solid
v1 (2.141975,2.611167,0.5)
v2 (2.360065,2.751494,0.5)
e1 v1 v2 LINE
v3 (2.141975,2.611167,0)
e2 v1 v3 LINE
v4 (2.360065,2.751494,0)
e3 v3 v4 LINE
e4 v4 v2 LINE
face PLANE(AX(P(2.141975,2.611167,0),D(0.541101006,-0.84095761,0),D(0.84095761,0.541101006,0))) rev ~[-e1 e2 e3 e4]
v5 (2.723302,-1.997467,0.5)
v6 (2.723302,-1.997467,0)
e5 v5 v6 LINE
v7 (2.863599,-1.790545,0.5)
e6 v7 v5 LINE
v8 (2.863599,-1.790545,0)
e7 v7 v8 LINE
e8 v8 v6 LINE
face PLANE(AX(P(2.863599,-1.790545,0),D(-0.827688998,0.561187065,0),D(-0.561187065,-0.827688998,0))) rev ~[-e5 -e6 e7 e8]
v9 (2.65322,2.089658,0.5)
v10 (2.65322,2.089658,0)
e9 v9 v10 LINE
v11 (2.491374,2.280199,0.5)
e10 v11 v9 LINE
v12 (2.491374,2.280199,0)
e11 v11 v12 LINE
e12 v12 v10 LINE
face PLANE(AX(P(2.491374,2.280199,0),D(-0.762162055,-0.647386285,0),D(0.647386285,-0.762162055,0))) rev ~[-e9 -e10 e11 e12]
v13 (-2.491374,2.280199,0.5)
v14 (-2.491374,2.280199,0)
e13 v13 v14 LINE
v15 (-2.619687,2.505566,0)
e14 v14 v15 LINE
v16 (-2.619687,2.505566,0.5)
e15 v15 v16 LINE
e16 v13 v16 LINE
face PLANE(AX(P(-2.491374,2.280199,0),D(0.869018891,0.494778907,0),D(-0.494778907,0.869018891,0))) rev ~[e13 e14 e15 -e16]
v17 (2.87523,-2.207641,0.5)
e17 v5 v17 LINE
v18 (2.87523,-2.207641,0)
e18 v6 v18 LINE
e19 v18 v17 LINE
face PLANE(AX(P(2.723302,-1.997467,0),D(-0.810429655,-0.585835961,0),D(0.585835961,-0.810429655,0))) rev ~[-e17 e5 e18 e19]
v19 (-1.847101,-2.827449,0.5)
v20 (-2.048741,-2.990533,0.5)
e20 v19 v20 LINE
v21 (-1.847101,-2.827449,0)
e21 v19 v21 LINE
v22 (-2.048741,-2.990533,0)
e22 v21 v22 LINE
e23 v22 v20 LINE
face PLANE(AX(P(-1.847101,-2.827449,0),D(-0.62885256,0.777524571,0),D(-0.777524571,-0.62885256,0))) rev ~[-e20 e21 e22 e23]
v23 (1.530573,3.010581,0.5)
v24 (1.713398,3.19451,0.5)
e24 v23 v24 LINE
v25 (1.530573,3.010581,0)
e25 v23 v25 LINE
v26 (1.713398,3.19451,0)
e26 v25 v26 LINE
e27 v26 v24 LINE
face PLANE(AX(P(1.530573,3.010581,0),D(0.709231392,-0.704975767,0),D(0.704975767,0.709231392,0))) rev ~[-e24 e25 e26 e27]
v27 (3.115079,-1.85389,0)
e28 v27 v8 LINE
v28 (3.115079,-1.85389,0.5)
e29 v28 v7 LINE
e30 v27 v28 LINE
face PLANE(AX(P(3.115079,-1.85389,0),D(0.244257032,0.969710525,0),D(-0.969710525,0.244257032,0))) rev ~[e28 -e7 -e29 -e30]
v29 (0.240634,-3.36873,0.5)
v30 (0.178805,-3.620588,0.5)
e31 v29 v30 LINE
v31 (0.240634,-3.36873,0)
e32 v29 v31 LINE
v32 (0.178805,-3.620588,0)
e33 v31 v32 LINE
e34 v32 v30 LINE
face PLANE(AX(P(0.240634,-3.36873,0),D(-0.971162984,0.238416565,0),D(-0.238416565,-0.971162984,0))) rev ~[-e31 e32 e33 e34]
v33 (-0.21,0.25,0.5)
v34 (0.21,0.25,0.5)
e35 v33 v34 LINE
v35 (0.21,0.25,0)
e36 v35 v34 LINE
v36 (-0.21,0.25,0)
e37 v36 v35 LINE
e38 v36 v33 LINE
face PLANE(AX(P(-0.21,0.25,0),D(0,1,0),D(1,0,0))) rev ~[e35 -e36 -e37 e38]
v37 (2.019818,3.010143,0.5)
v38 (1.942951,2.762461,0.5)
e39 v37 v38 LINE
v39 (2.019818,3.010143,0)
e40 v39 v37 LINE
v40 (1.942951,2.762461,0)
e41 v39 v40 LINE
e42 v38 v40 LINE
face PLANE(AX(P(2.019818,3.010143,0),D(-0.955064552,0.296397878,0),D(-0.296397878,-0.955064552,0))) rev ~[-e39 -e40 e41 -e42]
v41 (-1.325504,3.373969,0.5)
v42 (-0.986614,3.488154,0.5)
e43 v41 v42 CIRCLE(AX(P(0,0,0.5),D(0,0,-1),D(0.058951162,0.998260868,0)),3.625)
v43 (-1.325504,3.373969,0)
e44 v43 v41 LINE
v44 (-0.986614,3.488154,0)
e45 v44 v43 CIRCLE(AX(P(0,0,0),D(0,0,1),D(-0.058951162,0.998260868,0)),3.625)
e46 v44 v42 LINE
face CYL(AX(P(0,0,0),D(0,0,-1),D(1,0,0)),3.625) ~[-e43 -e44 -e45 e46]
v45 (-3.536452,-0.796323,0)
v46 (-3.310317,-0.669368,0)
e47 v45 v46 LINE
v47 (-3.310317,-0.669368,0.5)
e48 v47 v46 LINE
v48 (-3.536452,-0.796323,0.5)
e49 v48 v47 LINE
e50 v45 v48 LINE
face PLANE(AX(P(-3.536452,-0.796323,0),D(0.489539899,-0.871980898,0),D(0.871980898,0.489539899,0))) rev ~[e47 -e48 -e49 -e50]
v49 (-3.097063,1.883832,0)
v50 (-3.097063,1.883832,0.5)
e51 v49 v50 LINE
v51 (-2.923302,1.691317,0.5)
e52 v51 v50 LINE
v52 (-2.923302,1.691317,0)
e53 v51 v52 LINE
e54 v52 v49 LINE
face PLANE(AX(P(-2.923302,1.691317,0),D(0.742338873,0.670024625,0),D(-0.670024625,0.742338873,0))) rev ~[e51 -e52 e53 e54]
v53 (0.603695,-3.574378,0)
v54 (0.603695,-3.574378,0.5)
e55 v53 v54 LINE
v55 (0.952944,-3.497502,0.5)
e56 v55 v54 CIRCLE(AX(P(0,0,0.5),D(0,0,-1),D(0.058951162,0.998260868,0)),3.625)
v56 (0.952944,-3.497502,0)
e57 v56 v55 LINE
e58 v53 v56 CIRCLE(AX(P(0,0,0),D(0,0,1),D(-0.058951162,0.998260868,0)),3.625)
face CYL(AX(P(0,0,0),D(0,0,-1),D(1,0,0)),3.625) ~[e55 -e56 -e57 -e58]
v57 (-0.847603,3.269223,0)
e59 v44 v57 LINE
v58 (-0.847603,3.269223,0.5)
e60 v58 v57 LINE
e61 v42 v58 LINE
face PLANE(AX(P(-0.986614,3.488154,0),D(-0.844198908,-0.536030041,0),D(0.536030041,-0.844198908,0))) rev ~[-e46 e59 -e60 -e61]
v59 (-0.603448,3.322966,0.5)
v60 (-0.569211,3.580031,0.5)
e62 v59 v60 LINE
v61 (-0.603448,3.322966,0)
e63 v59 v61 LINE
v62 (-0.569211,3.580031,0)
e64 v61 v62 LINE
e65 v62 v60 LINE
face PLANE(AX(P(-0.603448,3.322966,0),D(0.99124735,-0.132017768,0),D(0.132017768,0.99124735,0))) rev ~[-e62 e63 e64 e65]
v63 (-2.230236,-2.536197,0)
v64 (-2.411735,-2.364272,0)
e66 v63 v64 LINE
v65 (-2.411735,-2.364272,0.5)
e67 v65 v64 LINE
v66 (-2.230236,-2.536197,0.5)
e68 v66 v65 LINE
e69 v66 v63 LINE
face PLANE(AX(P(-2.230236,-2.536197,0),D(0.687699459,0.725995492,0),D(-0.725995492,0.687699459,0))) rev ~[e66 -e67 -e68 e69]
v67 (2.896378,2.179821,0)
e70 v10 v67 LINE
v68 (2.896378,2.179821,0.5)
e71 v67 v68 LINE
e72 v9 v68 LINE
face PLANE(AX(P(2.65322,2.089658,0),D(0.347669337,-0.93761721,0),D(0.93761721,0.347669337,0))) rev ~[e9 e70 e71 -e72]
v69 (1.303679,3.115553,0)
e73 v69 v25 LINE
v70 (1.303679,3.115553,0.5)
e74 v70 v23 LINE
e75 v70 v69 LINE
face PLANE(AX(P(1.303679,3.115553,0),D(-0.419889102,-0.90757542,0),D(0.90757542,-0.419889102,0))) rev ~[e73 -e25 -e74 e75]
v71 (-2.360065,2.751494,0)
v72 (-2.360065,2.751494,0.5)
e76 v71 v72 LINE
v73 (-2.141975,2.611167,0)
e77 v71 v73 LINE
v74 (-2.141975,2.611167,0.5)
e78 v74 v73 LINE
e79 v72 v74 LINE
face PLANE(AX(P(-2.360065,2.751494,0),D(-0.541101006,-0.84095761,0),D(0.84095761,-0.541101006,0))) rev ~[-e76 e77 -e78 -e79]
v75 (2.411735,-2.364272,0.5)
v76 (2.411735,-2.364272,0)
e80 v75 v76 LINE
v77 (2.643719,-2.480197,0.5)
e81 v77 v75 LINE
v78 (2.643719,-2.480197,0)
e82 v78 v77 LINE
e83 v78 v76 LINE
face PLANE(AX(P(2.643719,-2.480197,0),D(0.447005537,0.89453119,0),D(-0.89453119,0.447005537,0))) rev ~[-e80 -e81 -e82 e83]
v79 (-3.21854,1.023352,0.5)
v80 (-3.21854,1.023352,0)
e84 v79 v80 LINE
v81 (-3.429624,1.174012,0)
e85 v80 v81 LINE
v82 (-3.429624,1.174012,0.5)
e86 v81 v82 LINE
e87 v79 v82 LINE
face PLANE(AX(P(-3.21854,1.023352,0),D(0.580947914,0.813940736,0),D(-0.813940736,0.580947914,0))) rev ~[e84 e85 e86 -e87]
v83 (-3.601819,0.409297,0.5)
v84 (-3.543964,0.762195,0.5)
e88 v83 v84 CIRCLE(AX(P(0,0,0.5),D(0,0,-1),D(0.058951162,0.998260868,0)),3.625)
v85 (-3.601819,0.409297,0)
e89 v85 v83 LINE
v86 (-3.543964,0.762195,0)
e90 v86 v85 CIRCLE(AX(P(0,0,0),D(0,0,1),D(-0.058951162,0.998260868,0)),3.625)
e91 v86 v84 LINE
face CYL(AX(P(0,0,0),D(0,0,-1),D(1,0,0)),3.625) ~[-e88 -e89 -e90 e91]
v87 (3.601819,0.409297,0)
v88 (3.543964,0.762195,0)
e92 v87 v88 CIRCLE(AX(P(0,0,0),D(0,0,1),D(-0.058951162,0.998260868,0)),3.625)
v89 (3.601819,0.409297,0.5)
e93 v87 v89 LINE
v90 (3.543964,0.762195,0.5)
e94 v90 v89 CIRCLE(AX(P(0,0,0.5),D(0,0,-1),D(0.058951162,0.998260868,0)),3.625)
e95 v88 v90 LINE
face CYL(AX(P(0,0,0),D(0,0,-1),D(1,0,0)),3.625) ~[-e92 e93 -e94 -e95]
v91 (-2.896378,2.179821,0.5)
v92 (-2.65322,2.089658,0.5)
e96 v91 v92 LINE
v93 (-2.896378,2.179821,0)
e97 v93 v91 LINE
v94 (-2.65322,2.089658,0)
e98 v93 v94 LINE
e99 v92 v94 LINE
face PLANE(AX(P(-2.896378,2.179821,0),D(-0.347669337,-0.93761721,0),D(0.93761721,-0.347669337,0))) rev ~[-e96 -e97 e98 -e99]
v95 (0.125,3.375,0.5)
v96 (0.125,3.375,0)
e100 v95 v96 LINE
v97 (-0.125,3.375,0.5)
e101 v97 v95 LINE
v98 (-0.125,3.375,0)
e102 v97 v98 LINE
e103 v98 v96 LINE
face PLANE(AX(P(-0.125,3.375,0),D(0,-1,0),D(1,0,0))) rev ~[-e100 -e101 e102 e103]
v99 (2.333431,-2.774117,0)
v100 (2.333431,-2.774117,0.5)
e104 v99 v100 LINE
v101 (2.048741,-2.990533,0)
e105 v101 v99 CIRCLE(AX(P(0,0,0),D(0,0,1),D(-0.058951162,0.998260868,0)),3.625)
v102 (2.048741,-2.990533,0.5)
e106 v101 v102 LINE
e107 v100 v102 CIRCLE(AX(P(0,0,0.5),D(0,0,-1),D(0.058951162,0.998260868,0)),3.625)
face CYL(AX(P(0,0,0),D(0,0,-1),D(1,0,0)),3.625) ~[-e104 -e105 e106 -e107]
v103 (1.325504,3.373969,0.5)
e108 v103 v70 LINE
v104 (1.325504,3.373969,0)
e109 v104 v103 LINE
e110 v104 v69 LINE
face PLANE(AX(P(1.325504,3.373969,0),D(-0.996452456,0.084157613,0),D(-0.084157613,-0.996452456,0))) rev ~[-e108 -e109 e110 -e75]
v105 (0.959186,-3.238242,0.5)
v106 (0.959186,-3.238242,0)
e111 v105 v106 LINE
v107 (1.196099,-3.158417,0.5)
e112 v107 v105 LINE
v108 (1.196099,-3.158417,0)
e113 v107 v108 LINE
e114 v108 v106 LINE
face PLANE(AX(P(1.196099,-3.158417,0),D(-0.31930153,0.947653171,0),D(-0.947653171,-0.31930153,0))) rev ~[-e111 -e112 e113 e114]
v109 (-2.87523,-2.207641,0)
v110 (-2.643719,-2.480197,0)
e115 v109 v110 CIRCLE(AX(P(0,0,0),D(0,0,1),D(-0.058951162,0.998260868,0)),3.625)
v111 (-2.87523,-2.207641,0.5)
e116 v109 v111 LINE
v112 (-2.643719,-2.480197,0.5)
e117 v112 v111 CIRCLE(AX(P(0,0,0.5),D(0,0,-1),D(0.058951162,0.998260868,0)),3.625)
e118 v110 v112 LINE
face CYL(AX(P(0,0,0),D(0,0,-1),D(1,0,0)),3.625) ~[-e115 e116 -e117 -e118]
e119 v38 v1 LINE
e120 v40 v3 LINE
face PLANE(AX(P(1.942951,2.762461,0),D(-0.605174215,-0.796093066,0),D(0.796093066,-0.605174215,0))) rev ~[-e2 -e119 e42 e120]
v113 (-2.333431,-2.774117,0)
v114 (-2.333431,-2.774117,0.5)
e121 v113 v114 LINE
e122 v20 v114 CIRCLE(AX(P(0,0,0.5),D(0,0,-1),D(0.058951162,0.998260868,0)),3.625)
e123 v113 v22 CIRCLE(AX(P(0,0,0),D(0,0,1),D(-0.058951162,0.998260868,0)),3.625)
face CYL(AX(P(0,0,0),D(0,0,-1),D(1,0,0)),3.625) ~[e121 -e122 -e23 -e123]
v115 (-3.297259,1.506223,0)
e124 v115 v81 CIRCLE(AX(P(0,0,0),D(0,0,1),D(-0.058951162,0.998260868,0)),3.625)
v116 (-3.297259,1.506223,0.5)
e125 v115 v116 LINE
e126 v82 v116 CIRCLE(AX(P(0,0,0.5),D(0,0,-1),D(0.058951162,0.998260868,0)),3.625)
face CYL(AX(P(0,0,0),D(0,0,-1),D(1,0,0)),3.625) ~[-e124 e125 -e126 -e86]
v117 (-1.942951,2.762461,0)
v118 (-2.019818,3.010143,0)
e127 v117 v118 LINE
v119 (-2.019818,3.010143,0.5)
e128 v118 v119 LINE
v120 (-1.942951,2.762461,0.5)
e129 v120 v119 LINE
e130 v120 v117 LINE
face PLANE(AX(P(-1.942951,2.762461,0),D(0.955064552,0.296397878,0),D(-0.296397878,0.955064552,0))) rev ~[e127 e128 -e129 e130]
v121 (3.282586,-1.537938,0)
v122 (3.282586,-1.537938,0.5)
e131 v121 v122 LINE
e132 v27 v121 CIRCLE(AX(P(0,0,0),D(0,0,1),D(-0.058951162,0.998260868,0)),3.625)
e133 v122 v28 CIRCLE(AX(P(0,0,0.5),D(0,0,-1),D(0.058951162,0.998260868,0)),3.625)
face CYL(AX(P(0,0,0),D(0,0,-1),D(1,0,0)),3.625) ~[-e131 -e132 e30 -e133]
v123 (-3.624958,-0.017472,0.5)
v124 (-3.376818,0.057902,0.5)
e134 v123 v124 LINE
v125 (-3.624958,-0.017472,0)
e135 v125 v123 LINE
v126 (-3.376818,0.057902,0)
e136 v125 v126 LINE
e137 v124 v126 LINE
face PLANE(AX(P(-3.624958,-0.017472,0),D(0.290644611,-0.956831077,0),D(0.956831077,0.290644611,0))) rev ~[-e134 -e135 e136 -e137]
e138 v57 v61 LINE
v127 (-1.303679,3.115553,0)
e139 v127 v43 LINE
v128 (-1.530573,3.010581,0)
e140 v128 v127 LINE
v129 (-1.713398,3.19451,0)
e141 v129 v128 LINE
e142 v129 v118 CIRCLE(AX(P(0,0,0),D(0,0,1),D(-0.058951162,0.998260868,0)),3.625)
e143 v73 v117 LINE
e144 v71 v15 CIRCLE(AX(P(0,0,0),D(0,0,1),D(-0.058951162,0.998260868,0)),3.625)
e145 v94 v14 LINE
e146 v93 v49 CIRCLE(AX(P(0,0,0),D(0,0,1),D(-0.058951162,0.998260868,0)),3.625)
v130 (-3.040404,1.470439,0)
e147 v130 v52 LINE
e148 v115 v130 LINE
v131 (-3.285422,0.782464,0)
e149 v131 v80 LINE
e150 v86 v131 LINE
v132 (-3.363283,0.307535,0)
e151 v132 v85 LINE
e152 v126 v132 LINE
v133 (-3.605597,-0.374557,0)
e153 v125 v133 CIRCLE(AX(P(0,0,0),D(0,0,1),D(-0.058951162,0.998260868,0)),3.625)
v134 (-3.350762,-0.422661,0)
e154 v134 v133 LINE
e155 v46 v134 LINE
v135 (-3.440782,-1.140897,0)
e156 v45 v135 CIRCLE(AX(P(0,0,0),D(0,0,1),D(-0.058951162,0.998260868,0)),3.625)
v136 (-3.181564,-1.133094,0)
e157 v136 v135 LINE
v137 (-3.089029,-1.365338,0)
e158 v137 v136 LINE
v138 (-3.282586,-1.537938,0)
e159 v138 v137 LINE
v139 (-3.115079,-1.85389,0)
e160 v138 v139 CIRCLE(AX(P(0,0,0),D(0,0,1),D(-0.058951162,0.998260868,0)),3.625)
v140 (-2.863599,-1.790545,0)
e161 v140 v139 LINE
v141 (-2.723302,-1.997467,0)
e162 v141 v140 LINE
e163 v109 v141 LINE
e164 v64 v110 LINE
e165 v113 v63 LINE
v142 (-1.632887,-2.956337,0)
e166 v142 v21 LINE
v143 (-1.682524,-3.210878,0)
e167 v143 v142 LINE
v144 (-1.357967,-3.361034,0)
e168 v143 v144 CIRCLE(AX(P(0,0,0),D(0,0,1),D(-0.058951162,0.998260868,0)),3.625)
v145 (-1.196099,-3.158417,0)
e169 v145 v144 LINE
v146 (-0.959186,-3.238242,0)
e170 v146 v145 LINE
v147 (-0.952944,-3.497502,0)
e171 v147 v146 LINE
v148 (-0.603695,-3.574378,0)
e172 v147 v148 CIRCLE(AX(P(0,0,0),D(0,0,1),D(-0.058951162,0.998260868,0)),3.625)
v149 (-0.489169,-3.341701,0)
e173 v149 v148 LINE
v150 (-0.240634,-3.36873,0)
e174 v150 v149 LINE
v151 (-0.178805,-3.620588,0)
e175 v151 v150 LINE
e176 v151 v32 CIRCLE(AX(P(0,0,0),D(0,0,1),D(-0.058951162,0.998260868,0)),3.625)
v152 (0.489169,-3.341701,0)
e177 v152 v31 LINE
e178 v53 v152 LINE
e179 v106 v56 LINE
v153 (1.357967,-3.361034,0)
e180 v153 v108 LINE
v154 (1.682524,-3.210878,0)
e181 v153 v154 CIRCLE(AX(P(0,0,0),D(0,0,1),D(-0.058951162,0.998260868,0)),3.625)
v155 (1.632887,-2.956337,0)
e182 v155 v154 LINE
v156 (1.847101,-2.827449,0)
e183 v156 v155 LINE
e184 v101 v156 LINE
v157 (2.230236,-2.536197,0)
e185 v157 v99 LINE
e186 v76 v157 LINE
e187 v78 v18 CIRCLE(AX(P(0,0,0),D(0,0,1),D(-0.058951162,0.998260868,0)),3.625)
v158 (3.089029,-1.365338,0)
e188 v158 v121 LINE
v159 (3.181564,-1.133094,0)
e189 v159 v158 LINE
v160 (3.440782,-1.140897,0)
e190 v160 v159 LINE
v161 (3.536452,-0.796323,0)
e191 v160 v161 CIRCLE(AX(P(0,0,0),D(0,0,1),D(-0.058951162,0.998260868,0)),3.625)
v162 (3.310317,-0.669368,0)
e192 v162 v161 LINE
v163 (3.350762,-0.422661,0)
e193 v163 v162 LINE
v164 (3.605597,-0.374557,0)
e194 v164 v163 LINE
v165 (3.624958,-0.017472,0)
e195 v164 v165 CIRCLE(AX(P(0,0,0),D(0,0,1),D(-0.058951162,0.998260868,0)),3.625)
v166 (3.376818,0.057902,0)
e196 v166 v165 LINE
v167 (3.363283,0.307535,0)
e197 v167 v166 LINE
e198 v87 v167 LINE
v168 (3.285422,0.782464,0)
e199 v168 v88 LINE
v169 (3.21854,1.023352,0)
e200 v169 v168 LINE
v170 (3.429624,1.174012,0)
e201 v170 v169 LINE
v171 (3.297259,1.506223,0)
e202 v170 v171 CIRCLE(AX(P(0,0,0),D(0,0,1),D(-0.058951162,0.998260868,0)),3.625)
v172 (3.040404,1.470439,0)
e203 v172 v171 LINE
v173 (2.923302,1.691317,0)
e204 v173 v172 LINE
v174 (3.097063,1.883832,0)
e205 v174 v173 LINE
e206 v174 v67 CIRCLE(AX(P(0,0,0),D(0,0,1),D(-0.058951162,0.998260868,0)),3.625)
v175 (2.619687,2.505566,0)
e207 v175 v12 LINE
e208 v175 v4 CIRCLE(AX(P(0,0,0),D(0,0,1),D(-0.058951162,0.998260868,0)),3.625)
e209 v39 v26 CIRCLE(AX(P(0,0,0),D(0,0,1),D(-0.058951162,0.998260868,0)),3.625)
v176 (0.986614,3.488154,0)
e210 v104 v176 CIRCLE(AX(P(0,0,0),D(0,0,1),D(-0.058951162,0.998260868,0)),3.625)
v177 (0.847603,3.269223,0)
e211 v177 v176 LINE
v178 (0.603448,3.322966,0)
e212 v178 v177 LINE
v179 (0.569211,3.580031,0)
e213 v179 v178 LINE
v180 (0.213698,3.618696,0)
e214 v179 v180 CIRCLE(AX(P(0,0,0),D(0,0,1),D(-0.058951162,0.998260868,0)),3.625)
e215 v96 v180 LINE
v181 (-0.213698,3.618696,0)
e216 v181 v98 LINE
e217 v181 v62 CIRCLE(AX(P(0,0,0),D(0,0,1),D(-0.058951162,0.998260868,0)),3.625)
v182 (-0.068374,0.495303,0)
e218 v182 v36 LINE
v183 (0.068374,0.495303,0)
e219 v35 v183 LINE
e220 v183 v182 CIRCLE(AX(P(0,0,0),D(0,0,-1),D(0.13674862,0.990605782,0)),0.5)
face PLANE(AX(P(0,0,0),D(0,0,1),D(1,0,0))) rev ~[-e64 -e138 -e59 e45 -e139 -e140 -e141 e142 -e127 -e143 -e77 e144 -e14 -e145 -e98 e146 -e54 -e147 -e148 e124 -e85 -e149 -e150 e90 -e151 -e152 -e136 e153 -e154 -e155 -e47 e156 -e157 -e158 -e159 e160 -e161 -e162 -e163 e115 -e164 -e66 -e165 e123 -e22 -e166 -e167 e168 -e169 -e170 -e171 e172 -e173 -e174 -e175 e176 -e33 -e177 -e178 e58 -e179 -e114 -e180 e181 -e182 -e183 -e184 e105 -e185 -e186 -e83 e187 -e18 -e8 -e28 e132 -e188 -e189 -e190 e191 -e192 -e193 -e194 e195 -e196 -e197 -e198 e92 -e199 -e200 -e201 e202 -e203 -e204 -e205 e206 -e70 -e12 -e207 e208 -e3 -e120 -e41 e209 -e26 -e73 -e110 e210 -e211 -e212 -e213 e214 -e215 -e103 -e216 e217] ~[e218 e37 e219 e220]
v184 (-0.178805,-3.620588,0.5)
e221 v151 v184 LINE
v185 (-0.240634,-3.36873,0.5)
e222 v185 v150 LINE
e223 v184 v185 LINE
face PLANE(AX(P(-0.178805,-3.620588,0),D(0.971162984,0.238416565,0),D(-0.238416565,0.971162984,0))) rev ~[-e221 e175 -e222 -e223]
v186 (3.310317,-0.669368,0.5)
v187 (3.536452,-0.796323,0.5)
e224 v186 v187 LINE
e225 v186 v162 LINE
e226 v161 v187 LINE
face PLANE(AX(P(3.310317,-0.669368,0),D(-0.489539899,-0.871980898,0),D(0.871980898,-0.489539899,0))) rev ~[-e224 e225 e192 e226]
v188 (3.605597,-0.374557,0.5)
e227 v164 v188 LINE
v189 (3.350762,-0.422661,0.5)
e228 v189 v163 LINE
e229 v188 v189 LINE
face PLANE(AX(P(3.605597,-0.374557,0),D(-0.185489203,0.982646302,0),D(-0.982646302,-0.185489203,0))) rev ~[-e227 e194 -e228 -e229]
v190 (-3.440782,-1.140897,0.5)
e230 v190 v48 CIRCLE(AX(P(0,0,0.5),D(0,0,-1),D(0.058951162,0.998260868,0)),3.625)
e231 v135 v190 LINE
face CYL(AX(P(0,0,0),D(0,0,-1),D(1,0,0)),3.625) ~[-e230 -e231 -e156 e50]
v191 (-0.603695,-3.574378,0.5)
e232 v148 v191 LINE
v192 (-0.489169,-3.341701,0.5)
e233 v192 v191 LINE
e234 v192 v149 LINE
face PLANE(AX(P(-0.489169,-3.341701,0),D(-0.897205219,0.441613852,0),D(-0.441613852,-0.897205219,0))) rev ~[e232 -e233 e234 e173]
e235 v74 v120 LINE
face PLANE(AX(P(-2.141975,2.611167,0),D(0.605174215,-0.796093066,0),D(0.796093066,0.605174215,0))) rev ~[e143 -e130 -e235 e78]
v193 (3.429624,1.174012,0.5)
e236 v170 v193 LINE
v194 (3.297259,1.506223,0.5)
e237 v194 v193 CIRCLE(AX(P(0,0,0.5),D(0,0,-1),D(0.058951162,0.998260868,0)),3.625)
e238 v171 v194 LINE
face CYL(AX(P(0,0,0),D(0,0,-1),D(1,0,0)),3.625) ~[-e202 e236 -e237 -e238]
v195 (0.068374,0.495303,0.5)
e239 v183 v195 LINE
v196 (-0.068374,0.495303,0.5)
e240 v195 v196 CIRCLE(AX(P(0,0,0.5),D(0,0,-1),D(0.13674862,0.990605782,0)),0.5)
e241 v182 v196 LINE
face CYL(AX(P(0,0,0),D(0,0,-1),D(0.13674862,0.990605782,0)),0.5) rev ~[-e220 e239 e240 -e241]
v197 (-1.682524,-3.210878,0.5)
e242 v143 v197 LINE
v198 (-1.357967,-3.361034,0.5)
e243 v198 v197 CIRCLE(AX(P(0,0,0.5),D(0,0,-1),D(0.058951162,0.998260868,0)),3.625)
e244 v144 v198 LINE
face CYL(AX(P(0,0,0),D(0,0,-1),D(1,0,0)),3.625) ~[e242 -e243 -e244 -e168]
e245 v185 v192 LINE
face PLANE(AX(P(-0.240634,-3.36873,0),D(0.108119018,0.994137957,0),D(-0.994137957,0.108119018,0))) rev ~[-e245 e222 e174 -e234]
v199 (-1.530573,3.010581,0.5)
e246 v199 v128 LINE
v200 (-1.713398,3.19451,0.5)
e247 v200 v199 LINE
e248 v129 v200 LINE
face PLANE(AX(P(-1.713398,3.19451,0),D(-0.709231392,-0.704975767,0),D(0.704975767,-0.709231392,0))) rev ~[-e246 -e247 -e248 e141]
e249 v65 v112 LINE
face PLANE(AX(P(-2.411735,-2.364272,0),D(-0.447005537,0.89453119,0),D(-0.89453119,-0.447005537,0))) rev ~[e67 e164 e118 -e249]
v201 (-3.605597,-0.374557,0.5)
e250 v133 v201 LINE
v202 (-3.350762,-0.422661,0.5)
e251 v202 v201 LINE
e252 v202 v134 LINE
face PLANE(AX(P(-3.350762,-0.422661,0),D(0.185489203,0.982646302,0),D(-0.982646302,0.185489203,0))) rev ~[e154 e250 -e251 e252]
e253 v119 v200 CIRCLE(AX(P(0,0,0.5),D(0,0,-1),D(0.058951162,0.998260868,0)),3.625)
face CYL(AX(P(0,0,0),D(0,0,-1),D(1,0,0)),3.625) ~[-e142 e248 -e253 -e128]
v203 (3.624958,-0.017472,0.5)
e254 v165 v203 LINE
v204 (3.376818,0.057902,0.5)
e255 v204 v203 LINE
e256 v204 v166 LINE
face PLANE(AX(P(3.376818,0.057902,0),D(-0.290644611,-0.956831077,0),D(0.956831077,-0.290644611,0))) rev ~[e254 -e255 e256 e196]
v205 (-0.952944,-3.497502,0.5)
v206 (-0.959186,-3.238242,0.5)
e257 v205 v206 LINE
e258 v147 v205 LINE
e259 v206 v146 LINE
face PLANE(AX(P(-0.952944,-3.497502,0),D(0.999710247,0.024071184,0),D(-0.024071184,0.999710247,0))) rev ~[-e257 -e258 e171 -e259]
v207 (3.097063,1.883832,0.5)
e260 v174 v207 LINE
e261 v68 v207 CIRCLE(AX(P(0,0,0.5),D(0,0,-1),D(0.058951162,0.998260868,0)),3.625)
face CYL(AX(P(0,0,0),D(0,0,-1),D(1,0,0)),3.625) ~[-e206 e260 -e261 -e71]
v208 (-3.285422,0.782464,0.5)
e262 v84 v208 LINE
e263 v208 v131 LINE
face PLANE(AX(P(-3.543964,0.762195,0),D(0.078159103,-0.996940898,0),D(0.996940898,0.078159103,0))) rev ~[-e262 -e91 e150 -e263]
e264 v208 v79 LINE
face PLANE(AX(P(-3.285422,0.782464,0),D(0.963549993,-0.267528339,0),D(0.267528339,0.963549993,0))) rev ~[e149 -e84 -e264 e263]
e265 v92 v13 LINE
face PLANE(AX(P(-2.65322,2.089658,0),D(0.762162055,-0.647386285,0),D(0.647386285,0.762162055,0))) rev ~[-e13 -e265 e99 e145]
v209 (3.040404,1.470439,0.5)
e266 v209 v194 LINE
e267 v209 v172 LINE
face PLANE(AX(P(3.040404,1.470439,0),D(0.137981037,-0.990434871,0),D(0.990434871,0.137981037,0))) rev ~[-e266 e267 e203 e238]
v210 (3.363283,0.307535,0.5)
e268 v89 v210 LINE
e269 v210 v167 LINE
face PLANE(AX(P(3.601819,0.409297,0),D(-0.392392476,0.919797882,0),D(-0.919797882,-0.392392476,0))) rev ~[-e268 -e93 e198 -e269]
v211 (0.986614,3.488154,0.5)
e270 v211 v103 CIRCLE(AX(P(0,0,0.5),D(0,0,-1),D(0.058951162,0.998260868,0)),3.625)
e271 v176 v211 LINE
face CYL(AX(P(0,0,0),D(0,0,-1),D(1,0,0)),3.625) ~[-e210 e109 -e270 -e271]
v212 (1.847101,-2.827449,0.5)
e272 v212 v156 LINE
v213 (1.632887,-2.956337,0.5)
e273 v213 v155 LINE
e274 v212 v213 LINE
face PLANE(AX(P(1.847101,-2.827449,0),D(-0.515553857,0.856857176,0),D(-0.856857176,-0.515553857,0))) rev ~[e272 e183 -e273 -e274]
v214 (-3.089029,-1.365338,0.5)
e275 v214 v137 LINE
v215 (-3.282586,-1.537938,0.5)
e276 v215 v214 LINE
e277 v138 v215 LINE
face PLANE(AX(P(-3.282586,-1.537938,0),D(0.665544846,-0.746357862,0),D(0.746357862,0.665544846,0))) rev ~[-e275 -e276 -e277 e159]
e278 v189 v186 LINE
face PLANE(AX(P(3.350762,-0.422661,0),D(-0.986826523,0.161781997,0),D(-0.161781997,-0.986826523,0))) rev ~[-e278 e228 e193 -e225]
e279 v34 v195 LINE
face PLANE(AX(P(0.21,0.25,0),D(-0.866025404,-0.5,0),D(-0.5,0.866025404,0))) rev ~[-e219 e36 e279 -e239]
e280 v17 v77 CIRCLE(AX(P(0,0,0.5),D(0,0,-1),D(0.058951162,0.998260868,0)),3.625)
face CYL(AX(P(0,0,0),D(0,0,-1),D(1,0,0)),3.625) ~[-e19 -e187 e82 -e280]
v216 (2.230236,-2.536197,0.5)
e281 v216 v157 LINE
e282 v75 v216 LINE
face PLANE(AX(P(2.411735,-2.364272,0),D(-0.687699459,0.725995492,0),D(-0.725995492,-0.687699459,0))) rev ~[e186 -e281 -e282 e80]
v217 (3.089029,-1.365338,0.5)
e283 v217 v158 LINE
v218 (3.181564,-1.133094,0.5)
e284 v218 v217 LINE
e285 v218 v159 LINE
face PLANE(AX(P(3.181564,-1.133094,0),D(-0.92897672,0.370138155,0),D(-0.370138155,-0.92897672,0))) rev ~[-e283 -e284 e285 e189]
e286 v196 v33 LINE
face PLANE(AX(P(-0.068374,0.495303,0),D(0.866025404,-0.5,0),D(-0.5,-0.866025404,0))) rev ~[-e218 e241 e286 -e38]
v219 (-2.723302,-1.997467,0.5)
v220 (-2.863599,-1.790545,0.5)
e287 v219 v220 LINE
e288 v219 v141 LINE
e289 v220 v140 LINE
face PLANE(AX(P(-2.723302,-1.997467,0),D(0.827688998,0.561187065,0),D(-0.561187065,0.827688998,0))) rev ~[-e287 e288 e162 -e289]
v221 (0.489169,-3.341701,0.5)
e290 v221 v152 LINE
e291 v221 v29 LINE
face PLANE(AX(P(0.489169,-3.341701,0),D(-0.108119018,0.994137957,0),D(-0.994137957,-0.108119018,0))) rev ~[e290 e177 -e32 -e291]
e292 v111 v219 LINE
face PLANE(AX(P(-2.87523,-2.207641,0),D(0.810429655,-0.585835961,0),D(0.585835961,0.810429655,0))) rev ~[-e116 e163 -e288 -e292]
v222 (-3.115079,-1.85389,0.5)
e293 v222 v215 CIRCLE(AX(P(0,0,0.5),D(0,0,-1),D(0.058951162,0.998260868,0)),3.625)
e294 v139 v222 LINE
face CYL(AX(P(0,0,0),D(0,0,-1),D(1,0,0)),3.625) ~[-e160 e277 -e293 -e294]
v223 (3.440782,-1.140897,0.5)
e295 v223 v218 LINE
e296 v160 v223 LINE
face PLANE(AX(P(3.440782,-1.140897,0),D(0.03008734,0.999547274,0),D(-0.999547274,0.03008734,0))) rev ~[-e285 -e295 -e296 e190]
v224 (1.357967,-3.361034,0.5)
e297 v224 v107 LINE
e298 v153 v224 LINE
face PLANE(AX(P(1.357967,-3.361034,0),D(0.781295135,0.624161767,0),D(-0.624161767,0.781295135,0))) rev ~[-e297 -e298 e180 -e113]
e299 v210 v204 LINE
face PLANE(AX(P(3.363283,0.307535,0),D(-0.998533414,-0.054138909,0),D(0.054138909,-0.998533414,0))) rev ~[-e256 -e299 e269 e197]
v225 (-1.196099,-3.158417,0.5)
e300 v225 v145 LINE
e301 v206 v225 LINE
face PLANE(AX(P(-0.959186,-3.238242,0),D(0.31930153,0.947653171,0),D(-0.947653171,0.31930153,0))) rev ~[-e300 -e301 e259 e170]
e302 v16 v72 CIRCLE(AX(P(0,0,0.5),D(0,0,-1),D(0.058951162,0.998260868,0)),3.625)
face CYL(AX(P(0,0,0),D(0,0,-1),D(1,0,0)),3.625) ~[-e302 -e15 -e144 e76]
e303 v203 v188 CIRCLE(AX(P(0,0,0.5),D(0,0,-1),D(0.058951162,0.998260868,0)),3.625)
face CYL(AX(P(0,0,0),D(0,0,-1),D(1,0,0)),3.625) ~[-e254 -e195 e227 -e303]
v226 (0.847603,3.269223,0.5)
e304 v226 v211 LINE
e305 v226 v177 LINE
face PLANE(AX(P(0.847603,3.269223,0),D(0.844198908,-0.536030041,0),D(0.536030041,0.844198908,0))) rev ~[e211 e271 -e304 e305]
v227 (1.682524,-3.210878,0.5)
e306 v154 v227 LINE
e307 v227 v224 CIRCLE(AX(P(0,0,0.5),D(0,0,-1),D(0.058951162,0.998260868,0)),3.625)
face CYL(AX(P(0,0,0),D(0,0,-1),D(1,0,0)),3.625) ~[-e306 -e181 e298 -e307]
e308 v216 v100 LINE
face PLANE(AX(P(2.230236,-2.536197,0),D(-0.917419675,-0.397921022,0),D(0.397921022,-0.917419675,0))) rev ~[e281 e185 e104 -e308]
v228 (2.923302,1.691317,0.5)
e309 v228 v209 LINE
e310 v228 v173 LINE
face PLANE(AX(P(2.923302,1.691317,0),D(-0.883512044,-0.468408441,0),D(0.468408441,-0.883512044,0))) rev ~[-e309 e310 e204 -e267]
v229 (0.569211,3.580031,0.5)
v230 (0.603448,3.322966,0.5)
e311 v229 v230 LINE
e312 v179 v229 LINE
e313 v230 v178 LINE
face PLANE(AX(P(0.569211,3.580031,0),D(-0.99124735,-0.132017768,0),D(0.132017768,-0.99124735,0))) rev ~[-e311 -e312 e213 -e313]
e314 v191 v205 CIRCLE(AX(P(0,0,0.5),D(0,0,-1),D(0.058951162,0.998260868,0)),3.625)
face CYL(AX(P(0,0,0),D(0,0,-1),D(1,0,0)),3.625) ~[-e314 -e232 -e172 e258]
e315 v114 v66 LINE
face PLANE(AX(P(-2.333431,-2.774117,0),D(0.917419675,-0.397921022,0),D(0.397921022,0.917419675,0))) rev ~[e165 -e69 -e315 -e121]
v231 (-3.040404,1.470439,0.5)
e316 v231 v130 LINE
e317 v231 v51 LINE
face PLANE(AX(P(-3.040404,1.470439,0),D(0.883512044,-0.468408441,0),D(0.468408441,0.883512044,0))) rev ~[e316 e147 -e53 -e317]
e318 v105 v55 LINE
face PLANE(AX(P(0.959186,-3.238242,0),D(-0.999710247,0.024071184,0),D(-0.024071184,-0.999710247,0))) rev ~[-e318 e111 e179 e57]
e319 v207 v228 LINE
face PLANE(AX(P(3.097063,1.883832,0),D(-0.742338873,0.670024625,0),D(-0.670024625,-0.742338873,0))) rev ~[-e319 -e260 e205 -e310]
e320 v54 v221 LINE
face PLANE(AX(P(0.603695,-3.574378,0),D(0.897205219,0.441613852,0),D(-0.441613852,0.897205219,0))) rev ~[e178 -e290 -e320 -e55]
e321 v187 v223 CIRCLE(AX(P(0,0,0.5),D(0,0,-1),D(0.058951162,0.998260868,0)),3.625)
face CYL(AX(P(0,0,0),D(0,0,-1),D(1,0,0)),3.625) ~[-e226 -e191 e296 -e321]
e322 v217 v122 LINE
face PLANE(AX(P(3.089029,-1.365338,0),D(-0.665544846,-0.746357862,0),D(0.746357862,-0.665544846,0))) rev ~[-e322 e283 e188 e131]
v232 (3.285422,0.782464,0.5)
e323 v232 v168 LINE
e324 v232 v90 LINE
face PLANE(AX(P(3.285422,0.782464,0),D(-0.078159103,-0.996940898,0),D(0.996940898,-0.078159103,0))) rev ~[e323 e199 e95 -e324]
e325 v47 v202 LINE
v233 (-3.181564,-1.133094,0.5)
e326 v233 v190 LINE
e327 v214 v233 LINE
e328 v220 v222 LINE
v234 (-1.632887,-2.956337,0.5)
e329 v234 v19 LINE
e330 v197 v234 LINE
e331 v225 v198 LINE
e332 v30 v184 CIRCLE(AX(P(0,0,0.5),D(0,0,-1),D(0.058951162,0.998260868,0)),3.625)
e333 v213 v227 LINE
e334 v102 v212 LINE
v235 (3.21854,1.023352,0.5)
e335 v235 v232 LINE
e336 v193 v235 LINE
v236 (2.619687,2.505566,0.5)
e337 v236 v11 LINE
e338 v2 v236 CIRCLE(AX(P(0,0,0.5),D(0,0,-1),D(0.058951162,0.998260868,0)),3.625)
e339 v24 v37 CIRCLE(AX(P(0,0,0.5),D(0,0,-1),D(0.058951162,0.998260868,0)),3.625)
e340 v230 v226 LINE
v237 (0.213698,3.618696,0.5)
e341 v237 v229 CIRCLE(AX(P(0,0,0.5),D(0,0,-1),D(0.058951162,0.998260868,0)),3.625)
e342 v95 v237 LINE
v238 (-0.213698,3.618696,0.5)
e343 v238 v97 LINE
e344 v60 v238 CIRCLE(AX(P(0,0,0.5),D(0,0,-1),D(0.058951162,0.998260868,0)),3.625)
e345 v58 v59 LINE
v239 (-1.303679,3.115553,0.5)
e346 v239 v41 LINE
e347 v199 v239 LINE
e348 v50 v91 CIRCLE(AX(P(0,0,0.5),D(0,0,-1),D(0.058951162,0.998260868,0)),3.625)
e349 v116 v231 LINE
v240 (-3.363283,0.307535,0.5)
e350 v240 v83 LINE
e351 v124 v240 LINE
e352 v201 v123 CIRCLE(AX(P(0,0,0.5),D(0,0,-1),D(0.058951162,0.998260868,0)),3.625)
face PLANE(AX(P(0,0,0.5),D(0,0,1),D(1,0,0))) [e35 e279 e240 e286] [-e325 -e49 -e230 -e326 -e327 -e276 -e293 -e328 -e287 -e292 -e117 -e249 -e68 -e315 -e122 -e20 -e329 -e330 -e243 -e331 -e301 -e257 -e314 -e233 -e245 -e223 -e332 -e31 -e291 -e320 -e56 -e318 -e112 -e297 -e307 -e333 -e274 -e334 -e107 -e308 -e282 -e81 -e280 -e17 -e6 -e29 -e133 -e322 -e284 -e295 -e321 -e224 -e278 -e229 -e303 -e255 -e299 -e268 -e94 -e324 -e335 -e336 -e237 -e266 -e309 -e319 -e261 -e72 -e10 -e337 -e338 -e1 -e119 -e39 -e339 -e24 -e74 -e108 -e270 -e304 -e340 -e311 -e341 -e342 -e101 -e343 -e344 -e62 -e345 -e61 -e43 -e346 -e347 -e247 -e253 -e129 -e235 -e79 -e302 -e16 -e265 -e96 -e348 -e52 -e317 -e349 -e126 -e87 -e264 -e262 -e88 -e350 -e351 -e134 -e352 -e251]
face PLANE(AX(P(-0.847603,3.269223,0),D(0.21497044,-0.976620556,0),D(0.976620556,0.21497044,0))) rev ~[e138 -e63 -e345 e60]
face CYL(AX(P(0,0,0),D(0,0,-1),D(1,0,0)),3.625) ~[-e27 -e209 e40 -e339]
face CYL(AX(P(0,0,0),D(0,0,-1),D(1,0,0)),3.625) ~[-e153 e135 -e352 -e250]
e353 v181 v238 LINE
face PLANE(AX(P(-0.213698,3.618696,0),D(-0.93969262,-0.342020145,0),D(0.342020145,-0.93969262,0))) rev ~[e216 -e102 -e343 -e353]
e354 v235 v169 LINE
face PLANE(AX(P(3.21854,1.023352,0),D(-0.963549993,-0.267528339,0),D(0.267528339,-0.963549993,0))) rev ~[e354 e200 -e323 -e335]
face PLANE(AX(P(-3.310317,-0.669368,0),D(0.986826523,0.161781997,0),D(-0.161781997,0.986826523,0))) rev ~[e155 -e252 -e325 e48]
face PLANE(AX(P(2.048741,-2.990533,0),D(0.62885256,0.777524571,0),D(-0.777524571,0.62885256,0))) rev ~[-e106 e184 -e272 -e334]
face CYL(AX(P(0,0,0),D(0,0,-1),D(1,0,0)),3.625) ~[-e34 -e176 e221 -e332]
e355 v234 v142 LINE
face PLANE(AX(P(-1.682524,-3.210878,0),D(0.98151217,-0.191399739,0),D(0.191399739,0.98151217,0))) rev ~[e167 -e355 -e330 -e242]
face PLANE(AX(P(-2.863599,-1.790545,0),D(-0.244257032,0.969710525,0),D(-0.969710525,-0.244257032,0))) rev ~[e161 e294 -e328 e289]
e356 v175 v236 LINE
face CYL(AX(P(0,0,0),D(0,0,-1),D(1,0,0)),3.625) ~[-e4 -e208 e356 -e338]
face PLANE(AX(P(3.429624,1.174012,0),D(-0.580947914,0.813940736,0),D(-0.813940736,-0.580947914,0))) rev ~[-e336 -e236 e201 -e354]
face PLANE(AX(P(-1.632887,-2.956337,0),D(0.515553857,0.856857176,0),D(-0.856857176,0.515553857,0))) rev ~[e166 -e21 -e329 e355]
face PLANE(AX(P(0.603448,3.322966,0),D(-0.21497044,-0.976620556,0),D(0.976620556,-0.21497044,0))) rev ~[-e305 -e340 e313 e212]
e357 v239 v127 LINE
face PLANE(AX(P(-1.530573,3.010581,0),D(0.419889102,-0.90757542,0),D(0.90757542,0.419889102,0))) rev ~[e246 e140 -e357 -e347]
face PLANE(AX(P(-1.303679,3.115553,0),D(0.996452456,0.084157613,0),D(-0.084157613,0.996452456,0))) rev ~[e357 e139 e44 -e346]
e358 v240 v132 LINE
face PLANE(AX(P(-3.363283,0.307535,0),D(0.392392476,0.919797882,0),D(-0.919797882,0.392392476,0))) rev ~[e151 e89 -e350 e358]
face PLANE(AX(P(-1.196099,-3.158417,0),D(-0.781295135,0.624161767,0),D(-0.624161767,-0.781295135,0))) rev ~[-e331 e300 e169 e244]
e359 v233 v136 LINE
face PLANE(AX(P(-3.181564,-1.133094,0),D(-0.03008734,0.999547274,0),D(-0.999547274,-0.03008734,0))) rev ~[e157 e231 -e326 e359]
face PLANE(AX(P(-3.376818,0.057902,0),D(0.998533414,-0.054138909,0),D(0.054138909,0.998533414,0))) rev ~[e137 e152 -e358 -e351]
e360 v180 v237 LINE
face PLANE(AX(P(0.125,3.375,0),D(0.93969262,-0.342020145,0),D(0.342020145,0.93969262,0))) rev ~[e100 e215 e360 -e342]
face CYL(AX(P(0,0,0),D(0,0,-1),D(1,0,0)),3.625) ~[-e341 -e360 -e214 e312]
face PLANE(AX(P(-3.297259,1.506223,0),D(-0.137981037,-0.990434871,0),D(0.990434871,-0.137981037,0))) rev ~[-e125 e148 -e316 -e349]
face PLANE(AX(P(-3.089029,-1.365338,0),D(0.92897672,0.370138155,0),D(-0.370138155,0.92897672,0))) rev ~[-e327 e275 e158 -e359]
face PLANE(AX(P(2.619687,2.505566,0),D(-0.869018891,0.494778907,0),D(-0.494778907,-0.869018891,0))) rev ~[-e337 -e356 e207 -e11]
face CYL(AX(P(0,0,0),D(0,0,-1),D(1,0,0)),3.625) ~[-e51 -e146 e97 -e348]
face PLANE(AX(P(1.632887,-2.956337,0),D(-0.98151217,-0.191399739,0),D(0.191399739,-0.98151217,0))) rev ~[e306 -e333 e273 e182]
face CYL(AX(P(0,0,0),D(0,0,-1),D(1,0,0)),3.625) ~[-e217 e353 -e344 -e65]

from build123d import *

# Parameters (mm, degrees)
SKETCH1_R           = 3.625
BOSS_EXTRUDE2_DEPTH = 0.5
CUT_EXTRUDE1_DEPTH  = 6.150849445
CIRPATTERN1_COUNT   = 29


with BuildPart() as part:
    # Sketch1 → Boss-Extrude2 (new body)
    with BuildSketch(Plane.XY):
        Circle(SKETCH1_R)
        with BuildLine():
            Line((-0.21, 0.25), (0, 0.25))
            Line((0, 0.25), (0.21, 0.25))
            Line((0.21, 0.25), (0.06837431, 0.495302891))
            ThreePointArc((0.06837431, 0.495302891), (0, -0.5), (-0.06837431, 0.495302891))
            Line((-0.06837431, 0.495302891), (-0.21, 0.25))
        make_face(mode=Mode.SUBTRACT)
    extrude(amount=BOSS_EXTRUDE2_DEPTH)

    # Sketch1<3> → Cut-Extrude1 (cut, symmetric)
    with BuildSketch(Plane.XY):
        with BuildLine():
            Line((-0.125, 3.375), (0.125, 3.375))
            Line((0.125, 3.375), (0.213697962, 3.618695646))
            ThreePointArc((0.213697962, 3.618695646), (0, 3.625), (-0.213697962, 3.618695646))
            Line((-0.213697962, 3.618695646), (-0.125, 3.375))
        make_face()
    cut_extrude1 = extrude(amount=CUT_EXTRUDE1_DEPTH, both=True, mode=Mode.SUBTRACT)

    # CirPattern1: Cut-Extrude1 ×29 about axis
    cirpattern1_axis = Axis((0, 0, 0.5), (0, 0, -1))
    for i in range(1, CIRPATTERN1_COUNT):
        add(cut_extrude1.rotate(cirpattern1_axis, i * 360 / CIRPATTERN1_COUNT), mode=Mode.SUBTRACT)


solid = part.part
